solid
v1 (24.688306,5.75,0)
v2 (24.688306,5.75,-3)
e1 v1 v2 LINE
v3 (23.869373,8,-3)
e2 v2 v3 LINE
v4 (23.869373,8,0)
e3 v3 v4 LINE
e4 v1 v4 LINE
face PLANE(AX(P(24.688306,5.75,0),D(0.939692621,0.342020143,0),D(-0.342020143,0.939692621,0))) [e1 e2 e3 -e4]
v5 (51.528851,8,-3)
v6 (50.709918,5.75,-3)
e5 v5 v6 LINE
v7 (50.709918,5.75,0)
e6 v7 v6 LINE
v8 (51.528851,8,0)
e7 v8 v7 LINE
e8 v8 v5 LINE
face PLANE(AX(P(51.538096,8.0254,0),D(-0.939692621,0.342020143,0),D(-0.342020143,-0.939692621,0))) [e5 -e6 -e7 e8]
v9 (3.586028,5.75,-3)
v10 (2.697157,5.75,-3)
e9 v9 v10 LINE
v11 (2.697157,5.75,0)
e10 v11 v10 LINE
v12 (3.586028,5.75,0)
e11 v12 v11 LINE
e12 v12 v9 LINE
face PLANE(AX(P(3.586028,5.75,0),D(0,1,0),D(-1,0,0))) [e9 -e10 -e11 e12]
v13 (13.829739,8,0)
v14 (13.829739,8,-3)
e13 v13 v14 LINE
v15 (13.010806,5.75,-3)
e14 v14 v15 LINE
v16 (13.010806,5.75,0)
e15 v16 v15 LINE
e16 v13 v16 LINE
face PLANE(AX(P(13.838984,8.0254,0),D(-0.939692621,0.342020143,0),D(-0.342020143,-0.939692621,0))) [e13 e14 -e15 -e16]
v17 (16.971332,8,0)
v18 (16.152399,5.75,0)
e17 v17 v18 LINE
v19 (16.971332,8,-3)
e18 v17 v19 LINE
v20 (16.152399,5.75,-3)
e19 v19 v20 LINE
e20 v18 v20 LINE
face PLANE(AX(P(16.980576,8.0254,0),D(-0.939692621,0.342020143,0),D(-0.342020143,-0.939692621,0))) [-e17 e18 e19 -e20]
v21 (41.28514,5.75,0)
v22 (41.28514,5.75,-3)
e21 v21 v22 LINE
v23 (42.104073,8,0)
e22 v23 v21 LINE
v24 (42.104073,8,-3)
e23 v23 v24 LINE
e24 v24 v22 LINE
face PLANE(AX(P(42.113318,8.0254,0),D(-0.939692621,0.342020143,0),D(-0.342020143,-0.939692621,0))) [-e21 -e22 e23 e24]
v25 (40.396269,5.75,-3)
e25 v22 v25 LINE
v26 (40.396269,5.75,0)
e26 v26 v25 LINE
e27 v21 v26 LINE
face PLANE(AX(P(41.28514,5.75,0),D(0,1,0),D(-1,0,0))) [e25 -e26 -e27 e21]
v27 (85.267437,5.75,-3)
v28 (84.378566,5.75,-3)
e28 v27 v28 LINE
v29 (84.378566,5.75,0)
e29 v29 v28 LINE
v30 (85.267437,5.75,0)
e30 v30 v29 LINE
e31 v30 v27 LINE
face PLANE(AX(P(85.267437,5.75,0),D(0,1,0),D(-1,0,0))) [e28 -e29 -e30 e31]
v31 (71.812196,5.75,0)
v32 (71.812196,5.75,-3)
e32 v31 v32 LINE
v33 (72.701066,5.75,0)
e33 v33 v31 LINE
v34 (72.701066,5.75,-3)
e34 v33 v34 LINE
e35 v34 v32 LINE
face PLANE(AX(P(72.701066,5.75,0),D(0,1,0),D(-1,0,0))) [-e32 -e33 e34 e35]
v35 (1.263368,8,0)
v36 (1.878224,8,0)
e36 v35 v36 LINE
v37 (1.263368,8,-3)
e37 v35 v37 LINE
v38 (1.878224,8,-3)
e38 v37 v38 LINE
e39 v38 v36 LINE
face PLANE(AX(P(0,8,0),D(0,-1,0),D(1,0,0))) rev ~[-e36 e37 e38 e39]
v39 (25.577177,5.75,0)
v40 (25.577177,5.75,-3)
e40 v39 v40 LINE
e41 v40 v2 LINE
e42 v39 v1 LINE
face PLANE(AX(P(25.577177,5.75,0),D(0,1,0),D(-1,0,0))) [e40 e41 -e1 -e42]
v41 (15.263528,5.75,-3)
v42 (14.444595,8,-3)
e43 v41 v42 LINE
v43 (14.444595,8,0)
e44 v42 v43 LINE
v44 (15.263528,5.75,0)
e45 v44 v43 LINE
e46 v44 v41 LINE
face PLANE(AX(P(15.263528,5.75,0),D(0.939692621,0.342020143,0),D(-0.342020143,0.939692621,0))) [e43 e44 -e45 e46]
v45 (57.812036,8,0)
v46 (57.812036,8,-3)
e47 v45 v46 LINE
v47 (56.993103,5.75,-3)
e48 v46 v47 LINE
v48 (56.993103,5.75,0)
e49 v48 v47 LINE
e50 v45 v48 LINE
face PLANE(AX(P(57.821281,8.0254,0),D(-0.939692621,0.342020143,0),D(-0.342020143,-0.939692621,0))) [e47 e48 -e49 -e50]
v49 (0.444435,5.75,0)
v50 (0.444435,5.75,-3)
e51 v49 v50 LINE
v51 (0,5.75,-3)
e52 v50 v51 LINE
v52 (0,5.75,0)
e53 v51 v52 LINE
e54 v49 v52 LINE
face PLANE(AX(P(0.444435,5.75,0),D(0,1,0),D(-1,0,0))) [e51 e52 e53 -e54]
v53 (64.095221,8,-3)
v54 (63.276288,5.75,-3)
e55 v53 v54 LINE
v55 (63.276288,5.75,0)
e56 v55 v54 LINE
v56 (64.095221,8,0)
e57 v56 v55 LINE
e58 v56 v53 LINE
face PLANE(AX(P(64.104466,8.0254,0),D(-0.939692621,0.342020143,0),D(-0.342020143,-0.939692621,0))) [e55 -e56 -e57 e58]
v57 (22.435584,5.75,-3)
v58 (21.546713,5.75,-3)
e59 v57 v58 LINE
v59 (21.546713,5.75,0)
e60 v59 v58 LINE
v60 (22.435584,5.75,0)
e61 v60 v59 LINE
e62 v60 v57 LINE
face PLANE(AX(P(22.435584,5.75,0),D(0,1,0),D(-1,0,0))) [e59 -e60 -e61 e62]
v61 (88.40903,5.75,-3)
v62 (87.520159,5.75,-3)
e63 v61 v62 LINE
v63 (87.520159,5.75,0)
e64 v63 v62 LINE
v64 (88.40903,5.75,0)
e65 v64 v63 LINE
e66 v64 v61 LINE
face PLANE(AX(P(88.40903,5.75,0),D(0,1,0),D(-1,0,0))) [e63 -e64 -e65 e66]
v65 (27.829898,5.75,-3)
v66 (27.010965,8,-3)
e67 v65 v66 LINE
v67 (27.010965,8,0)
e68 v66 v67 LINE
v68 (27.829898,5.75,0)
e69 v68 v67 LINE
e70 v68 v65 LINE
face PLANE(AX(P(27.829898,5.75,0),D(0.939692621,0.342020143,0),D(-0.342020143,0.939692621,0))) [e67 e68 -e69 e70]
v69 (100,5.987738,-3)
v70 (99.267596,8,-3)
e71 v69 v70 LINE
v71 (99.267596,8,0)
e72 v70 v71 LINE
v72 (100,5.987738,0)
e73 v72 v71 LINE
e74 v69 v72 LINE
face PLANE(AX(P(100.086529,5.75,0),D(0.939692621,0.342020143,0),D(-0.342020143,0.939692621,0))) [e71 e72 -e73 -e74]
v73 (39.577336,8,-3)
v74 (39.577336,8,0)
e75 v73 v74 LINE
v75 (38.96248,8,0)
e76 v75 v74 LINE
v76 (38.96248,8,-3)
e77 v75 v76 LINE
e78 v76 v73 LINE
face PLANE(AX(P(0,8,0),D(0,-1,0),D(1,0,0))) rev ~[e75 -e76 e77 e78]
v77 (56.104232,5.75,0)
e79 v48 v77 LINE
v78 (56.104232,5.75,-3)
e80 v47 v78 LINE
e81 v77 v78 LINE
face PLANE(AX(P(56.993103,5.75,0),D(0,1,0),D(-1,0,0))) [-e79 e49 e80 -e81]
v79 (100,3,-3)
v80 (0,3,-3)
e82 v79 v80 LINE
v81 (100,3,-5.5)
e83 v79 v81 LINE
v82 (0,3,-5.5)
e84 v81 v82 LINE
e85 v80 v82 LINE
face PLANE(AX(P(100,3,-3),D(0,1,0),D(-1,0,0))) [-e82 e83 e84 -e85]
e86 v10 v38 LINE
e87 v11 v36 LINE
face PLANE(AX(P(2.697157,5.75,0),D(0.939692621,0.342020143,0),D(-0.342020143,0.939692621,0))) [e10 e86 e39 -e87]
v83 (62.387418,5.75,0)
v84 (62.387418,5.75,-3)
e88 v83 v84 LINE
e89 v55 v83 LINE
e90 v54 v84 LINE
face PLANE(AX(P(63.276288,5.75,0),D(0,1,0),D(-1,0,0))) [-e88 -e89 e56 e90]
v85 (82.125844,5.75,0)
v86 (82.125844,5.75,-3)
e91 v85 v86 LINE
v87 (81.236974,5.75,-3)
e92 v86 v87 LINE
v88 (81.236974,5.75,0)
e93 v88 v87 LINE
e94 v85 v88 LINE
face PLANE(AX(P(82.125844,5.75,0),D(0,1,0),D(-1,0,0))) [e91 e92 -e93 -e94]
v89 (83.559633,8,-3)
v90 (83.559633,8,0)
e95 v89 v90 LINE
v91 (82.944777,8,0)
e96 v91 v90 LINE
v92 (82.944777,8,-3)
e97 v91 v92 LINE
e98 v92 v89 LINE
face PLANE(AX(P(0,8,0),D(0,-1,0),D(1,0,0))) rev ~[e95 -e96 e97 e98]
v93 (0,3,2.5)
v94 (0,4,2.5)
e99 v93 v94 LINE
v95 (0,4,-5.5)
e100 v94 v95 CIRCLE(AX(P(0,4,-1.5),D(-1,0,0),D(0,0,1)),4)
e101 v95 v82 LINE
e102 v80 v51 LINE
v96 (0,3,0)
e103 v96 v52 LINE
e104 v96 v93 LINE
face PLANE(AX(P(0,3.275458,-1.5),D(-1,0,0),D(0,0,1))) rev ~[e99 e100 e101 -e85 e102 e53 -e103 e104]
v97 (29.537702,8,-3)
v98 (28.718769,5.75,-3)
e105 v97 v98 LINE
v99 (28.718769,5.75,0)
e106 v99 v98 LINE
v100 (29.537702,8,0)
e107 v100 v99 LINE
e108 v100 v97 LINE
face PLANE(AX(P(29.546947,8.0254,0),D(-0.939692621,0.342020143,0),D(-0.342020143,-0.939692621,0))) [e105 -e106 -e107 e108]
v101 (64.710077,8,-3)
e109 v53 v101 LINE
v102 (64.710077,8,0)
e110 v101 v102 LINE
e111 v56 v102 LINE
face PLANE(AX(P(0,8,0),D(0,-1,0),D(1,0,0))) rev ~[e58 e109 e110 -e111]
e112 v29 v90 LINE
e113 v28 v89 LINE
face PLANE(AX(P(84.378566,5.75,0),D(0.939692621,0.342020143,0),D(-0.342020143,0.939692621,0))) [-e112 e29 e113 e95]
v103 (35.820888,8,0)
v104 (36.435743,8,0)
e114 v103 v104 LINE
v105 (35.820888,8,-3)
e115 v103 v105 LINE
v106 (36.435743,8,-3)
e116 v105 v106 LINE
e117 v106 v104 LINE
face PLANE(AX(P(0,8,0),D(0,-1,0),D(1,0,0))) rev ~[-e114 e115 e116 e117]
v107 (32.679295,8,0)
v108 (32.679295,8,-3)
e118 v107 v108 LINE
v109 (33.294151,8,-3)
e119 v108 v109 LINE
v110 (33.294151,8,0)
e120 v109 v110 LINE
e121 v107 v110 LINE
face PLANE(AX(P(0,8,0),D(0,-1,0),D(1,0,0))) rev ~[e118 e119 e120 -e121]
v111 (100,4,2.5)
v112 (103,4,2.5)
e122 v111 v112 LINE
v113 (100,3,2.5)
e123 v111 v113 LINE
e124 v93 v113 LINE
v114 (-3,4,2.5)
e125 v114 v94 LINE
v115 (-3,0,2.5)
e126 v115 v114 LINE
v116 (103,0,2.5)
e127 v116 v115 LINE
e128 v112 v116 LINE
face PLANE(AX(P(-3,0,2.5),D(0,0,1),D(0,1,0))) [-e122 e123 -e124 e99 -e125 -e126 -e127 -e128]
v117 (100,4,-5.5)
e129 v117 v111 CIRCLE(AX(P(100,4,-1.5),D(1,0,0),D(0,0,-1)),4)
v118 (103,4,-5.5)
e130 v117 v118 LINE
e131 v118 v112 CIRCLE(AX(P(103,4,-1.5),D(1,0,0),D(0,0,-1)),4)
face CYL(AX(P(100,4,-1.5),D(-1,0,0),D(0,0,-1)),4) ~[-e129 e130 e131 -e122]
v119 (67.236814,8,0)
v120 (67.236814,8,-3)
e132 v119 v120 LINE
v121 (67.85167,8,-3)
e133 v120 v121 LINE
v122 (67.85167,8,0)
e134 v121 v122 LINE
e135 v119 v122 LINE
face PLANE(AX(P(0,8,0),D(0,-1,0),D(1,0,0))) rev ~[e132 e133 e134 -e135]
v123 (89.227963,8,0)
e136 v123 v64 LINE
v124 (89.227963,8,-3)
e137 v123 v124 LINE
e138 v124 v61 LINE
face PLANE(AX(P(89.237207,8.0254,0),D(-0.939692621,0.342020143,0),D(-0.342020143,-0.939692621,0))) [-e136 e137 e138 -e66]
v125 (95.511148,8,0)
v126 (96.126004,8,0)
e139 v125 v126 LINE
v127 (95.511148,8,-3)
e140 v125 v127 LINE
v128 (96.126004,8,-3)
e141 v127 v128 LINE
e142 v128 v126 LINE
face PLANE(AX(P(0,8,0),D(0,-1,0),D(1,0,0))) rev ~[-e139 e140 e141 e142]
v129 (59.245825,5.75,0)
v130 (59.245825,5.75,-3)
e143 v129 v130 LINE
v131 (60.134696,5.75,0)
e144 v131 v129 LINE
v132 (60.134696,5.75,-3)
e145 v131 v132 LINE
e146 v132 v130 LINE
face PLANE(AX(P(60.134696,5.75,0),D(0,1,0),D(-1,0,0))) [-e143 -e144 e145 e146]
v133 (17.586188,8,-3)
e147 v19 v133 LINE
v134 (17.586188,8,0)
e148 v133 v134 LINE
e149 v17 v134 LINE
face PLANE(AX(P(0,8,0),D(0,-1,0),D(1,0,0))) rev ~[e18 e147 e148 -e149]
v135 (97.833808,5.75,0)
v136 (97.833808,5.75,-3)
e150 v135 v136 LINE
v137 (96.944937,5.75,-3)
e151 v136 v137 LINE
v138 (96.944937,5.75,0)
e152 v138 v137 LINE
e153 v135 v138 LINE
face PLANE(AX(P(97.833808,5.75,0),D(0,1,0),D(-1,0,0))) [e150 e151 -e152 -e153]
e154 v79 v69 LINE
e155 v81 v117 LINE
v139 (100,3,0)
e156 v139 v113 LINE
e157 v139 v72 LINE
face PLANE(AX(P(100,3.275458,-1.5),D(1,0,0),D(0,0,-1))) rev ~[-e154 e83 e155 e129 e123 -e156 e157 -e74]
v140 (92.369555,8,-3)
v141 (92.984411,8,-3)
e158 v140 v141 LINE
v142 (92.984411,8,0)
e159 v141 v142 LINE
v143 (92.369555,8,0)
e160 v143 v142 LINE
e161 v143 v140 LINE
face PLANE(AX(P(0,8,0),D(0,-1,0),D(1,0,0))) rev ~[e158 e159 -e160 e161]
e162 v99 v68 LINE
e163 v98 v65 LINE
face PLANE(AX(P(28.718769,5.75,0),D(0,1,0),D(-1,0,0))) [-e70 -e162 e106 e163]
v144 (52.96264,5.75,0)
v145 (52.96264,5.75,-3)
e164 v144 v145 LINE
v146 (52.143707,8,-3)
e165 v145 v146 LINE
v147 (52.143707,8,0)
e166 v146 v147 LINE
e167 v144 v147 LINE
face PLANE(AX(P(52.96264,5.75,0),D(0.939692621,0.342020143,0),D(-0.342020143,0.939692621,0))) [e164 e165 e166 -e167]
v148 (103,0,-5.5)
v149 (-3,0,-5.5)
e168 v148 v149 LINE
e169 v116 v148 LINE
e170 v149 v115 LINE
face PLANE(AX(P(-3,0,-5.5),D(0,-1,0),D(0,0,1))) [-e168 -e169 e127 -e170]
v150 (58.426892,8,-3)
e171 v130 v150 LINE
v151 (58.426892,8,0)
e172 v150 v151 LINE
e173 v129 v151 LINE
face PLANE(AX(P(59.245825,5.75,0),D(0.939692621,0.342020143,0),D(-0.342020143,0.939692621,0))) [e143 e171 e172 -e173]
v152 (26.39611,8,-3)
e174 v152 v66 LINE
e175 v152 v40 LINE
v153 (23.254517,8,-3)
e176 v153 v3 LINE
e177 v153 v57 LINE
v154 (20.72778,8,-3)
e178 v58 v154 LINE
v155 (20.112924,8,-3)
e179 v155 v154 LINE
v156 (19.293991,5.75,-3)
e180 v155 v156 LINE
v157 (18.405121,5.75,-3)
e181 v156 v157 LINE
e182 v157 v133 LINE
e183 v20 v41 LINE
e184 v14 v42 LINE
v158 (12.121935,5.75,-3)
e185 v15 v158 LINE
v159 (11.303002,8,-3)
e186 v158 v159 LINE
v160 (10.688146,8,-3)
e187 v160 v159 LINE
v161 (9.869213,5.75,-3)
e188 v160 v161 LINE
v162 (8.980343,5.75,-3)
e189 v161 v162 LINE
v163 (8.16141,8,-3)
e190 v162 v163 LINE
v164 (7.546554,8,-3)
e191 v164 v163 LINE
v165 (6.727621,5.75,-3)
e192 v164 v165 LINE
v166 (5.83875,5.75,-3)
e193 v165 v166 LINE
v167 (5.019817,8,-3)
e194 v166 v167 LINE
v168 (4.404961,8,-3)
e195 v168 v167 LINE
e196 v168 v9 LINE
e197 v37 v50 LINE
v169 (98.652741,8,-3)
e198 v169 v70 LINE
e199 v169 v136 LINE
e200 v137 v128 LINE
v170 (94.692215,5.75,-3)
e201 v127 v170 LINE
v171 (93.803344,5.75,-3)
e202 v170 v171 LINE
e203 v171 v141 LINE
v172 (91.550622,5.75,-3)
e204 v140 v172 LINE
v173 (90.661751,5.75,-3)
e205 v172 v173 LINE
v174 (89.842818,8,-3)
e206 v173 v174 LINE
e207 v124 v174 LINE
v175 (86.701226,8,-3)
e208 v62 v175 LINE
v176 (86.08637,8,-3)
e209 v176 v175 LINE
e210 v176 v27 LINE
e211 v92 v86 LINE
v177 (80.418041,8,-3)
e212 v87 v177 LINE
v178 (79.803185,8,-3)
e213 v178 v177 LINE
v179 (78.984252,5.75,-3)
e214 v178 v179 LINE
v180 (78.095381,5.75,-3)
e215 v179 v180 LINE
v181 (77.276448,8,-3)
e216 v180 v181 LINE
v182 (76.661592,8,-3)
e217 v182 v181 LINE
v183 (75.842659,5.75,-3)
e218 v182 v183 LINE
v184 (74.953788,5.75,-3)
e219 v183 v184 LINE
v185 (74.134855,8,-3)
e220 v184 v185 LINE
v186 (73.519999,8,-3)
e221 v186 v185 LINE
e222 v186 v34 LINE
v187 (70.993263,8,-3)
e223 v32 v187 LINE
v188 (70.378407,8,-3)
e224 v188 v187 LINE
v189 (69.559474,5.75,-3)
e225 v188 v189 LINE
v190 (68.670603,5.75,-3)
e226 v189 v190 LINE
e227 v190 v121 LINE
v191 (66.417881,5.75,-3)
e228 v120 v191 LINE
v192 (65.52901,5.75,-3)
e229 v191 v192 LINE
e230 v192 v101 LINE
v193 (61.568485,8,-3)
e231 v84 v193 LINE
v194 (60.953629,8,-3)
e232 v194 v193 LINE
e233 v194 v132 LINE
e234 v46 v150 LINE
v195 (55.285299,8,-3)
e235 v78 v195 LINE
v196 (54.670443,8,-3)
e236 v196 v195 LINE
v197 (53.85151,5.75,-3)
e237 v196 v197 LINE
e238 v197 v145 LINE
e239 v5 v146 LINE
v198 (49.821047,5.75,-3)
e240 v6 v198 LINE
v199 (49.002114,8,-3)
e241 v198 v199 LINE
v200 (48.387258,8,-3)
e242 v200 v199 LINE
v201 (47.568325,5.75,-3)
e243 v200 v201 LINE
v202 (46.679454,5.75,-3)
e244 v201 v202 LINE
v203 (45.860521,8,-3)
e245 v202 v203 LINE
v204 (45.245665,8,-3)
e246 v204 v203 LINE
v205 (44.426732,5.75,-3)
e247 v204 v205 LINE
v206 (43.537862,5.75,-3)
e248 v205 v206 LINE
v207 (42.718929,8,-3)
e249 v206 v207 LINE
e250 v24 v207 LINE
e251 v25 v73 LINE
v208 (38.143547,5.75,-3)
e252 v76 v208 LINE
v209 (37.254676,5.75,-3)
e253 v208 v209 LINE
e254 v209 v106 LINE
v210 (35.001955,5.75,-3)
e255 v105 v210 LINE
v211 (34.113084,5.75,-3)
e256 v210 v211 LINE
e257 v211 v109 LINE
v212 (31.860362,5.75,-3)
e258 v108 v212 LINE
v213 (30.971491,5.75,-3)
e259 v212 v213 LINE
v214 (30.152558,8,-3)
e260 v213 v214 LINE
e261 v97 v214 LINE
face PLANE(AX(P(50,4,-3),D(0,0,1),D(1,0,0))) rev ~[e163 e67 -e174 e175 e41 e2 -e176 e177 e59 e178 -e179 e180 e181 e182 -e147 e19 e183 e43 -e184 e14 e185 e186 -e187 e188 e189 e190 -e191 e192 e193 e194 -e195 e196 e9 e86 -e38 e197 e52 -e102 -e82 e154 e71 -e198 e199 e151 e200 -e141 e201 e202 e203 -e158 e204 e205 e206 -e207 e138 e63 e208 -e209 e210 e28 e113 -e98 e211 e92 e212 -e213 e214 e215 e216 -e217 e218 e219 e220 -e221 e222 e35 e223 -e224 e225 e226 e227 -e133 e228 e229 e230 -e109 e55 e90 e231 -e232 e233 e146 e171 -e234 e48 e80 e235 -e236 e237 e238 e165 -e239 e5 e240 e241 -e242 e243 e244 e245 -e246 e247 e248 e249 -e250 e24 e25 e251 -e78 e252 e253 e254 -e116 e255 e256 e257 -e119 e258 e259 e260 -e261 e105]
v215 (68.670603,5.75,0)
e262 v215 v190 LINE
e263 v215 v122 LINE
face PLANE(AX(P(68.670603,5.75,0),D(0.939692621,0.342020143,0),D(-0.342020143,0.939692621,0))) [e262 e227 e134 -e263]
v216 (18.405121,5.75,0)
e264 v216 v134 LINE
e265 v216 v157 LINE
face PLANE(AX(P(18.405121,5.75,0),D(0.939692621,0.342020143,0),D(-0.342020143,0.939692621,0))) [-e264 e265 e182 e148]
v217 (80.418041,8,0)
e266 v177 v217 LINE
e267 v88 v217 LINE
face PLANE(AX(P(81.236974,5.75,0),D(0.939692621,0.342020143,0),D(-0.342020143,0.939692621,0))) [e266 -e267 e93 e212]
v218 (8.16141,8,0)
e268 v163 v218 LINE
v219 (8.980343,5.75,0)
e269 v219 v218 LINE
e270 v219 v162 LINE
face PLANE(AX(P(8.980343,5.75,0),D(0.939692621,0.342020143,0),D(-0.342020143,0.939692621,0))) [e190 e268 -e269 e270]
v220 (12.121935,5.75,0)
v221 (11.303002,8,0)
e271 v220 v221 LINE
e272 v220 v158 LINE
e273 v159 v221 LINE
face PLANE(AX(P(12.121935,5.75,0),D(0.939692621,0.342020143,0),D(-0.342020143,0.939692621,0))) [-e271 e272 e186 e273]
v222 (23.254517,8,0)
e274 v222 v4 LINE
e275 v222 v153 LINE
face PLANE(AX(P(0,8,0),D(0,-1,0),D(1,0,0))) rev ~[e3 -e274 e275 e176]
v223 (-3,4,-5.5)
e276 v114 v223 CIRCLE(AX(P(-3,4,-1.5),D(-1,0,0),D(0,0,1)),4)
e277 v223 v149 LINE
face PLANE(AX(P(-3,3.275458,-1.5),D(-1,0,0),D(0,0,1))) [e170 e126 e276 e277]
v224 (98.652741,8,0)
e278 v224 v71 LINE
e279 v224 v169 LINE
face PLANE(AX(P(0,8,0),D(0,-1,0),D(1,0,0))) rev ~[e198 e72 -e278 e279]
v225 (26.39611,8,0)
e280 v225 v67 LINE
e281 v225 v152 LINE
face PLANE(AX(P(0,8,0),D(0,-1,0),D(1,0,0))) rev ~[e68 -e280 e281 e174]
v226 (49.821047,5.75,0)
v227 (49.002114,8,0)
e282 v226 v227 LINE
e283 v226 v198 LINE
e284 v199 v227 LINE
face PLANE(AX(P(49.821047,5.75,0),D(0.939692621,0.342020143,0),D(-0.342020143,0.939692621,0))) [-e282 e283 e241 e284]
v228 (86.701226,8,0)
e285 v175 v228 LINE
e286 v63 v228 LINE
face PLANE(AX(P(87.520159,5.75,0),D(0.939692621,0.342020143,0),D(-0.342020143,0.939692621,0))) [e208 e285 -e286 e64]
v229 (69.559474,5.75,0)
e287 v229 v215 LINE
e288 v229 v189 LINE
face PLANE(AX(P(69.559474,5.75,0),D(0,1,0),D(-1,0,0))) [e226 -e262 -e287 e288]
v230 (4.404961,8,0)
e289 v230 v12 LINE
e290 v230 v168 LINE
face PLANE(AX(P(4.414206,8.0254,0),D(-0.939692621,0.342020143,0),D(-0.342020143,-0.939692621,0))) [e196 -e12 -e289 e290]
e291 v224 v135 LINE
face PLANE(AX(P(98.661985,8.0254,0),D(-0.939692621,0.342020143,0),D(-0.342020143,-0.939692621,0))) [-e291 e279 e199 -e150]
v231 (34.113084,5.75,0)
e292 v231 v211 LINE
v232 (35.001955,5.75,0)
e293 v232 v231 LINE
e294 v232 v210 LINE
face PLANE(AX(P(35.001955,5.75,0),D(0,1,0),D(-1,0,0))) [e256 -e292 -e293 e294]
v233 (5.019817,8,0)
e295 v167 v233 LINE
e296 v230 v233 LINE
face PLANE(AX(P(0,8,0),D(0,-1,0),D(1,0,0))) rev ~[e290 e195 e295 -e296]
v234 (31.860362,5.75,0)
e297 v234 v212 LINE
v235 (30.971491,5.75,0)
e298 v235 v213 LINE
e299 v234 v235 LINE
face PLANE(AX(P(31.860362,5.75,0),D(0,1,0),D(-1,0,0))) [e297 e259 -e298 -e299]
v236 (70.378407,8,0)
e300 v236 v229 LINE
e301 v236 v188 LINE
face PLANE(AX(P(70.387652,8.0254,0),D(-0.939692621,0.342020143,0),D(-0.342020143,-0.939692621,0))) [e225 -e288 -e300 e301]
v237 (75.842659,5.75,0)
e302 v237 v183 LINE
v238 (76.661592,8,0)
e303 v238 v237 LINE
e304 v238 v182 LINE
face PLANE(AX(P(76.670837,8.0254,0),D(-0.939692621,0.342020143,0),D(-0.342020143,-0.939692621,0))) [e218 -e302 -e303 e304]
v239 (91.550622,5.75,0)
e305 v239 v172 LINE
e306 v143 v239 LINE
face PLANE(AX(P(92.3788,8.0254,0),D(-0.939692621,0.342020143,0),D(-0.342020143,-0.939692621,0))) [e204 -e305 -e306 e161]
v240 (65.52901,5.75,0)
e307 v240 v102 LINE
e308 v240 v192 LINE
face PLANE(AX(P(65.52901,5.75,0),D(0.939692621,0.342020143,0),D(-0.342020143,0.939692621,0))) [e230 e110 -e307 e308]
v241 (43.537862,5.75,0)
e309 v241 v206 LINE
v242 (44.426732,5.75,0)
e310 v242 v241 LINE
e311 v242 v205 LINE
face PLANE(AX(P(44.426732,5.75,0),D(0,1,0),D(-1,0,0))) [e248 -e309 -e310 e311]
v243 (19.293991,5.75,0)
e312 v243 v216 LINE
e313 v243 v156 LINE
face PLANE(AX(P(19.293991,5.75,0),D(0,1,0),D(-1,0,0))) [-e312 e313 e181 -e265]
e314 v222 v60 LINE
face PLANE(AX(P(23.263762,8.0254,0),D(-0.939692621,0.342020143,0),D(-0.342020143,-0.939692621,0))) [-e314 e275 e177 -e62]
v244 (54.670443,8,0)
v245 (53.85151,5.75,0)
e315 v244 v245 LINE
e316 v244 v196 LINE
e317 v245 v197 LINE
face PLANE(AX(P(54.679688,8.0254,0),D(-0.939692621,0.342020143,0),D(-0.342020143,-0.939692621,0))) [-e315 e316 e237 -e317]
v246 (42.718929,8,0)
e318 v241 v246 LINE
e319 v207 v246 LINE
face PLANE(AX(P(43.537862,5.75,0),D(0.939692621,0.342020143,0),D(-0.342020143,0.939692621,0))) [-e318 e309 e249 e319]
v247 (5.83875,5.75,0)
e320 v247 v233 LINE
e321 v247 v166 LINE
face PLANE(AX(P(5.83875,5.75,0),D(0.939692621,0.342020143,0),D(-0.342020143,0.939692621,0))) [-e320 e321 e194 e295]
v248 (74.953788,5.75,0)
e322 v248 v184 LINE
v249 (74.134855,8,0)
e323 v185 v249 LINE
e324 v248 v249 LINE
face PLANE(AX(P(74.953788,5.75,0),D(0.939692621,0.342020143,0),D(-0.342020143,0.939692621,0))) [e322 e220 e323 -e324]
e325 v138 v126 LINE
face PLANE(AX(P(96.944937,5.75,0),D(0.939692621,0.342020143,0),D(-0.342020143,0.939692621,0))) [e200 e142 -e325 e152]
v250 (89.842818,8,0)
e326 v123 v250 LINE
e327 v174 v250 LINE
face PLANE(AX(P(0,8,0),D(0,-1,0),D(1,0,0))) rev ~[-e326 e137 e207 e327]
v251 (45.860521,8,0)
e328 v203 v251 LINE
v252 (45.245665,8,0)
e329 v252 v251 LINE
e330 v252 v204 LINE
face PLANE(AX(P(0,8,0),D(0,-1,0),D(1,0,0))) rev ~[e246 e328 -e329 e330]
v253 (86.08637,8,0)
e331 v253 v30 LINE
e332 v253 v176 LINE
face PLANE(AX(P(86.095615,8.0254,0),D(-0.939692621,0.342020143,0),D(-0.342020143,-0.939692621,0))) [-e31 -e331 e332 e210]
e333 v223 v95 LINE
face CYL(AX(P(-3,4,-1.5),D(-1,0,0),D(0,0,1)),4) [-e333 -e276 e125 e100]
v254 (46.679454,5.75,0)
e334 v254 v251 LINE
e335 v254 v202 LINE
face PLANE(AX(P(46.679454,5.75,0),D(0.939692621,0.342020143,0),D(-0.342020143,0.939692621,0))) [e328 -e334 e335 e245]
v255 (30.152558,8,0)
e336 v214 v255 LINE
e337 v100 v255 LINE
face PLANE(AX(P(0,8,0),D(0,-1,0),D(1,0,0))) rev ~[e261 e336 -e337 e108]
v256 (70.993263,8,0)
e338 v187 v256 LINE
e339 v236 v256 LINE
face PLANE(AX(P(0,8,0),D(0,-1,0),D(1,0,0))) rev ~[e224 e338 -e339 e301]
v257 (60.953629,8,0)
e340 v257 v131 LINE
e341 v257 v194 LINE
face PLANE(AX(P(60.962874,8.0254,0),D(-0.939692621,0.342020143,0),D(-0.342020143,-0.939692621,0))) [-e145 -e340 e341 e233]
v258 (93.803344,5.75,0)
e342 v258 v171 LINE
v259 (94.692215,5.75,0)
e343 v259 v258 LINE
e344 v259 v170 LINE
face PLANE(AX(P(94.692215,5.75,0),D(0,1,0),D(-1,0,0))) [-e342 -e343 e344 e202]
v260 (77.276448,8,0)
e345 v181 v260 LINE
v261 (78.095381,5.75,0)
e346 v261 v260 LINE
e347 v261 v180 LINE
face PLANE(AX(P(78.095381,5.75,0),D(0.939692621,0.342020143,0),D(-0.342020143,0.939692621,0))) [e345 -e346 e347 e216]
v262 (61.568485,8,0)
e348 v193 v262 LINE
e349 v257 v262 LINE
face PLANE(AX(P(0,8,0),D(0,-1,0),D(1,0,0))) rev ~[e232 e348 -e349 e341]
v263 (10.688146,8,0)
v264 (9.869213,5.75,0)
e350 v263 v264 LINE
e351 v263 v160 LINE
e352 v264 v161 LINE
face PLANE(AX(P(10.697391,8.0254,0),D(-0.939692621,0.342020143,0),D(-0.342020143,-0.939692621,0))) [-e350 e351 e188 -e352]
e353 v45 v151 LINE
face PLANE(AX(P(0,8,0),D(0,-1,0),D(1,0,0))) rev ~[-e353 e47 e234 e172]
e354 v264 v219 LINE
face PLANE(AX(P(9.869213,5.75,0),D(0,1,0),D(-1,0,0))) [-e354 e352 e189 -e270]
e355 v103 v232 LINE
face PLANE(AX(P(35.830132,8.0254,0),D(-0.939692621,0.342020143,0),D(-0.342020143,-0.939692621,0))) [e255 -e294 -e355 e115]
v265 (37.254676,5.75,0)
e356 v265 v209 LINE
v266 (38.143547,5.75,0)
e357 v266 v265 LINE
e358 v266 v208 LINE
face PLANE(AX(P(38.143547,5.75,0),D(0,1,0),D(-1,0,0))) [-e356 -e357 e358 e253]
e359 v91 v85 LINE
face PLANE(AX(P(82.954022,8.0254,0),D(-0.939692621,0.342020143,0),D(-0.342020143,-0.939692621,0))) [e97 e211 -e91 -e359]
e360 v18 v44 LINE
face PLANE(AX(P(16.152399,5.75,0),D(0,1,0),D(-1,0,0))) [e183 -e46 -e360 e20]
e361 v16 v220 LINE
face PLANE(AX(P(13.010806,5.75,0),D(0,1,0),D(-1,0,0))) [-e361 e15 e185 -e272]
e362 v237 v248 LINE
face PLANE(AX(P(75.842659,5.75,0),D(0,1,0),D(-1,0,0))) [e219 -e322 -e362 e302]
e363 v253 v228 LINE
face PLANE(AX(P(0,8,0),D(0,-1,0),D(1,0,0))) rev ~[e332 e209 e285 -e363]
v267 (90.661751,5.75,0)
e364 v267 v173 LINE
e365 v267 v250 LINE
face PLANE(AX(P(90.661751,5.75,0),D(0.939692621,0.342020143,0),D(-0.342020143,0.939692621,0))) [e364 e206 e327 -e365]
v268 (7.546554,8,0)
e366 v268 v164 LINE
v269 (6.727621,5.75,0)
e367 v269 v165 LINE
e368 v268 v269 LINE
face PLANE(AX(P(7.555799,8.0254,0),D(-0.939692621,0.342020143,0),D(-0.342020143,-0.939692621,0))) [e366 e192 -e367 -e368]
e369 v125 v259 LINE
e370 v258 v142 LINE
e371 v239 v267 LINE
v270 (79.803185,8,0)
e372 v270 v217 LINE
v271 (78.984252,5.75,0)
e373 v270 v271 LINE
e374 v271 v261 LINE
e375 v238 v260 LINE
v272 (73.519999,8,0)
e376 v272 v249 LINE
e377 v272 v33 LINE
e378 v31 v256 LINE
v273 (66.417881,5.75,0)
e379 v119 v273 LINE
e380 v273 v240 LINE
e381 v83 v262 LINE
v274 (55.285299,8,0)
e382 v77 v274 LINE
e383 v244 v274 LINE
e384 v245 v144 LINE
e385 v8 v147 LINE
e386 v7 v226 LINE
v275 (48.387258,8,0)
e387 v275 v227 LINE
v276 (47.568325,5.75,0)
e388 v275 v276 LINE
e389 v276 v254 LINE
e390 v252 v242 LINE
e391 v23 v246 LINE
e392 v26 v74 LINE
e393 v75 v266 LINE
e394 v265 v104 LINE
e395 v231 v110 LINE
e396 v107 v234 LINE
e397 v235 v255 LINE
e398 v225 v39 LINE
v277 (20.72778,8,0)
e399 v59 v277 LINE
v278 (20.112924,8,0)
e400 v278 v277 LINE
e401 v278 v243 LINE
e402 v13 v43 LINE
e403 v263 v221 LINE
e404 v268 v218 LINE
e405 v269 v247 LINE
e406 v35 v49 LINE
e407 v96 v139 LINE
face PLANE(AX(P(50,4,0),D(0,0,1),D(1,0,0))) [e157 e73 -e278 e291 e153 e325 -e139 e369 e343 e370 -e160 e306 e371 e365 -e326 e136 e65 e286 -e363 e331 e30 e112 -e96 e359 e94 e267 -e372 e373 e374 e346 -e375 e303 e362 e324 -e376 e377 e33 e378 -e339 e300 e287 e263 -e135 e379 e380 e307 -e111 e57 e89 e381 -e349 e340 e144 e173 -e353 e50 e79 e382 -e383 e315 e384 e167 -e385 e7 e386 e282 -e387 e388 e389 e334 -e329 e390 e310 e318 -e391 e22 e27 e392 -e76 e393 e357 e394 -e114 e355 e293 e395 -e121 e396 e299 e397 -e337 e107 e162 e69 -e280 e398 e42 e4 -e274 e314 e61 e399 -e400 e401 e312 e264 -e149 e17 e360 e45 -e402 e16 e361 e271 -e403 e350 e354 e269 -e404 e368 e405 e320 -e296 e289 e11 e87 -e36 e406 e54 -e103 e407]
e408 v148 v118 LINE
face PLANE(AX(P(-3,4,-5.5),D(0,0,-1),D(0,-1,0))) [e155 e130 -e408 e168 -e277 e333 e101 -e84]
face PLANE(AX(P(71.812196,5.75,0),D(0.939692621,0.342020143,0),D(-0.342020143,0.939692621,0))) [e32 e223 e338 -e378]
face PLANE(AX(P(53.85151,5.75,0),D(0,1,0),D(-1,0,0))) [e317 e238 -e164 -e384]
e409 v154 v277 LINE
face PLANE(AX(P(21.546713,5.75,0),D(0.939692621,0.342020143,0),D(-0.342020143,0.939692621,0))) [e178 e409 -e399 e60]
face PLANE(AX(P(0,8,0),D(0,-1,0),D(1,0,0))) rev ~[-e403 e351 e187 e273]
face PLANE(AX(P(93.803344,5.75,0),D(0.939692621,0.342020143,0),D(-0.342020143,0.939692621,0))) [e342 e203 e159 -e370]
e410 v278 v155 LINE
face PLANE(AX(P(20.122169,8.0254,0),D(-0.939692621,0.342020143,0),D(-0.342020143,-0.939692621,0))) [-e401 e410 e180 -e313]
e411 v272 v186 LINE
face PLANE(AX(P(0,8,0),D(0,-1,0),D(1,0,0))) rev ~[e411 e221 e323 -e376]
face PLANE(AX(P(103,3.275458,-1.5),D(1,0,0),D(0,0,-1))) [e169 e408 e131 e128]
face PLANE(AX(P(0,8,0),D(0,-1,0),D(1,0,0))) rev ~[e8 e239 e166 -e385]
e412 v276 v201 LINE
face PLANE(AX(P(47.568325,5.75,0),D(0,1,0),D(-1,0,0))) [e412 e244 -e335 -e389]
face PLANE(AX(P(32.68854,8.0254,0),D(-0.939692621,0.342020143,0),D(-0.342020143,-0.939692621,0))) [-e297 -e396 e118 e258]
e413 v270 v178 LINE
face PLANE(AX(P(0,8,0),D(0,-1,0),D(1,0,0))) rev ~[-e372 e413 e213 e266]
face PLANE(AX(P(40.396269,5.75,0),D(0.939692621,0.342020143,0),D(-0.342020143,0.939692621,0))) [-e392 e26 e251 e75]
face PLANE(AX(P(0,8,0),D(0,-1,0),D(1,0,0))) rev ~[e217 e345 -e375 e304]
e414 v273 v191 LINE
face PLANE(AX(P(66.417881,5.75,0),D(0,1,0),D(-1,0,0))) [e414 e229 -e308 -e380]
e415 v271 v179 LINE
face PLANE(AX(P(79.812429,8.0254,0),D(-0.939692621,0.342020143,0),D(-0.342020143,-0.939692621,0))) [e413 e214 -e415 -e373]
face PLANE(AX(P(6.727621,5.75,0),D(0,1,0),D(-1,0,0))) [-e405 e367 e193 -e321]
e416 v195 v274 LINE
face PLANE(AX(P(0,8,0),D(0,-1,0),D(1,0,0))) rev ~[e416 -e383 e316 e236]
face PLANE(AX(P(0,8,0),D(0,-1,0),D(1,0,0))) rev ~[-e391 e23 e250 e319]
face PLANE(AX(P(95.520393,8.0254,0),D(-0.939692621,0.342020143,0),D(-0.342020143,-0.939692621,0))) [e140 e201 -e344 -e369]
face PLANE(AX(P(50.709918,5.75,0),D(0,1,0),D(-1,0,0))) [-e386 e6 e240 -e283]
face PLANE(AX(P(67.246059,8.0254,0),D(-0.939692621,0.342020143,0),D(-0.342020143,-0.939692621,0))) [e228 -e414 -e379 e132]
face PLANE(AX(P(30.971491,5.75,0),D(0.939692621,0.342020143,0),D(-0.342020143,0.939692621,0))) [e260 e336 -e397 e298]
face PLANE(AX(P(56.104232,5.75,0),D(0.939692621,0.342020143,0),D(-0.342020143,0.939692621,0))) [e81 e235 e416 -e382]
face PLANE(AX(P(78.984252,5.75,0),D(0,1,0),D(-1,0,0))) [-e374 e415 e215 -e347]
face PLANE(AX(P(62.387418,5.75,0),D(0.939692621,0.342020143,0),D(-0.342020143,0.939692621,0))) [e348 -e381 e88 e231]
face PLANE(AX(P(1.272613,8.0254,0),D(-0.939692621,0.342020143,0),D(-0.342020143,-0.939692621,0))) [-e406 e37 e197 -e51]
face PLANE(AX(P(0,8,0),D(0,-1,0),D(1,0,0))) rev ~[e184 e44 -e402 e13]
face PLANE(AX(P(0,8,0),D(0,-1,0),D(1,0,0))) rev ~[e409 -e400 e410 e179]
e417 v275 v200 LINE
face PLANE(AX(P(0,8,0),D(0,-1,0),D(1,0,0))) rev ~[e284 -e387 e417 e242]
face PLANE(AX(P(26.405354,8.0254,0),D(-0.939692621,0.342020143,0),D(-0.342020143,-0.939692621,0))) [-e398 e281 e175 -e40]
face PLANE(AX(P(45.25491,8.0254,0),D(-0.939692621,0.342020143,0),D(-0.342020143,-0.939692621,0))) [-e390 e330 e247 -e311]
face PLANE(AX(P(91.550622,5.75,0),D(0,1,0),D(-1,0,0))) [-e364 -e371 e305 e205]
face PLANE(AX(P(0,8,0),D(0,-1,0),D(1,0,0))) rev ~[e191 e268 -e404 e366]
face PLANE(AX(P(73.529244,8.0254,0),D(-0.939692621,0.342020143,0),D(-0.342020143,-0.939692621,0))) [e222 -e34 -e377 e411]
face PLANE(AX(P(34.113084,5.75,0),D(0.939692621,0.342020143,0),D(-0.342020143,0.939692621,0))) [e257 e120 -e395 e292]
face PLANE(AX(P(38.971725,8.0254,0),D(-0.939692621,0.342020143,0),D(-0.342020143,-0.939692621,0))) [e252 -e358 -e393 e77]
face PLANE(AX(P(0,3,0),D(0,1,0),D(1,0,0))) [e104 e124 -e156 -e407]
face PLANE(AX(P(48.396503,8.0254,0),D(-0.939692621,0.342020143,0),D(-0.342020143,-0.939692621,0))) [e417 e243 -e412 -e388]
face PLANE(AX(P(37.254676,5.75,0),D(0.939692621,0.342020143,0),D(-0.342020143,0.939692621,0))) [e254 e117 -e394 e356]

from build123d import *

# Parameters (mm, degrees)
BLANKSKE_W         = 100
BLANKSKE_H         = 8
BLANK_DEPTH        = 3
TOOTHCUTSIM_DEPTH  = 101.364336295
TEETHCUTS_COUNT    = 33
TEETHCUTS_PITCH    = 3.14159265
ESQUISSE1_W        = 100
ESQUISSE1_H        = 3
BOSS_EXTRU_1_DEPTH = 2.5
ESQUISSE2_W        = 100
ESQUISSE2_H        = 3
BOSS_EXTRU_2_DEPTH = 2.5
BOSS_EXTRU_3_DEPTH = 3
BOSS_EXTRU_4_START = 3
BOSS_EXTRU_4_DEPTH = 3


with BuildPart() as part:
    # BlankSke → Blank (new body)
    with BuildSketch(Plane.XY):
        with Locations((50, 4)):
            Rectangle(BLANKSKE_W, BLANKSKE_H)
    extrude(amount=-BLANK_DEPTH)

    # TooCutSkeSim → ToothCutSim (cut, through all)
    with BuildSketch(Plane.XY):
        Polygon((0.44443537, 5.75), (-0.44443537, 5.75), (-1.272613241, 8.0254), (1.272613241, 8.0254), align=None)
    toothcutsim = extrude(amount=-TOOTHCUTSIM_DEPTH, mode=Mode.SUBTRACT)

    # TeethCuts: ToothCutSim ×33
    with Locations(*[(i * TEETHCUTS_PITCH, 0, 0) for i in range(1, TEETHCUTS_COUNT)]):
        add(toothcutsim, mode=Mode.SUBTRACT)

    # Esquisse1 → Boss.-Extru.1 (add)
    with BuildSketch(Plane.XY):
        with Locations((50, 1.5)):
            Rectangle(ESQUISSE1_W, ESQUISSE1_H)
    extrude(amount=BOSS_EXTRU_1_DEPTH)

    # Esquisse2 → Boss.-Extru.2 (add)
    with BuildSketch(Plane(origin=(0, 0, -3), x_dir=(-1, 0, 0), z_dir=(0, 0, -1))):
        with Locations((-50, 1.5)):
            Rectangle(ESQUISSE2_W, ESQUISSE2_H)
    extrude(amount=BOSS_EXTRU_2_DEPTH)

    # Esquisse3 → Boss.-Extru.3 (add)
    with BuildSketch(Plane(origin=(100, 0, 0), x_dir=(0, 0, -1), z_dir=(1, 0, 0))):
        with BuildLine():
            Line((-2.5, 0), (5.5, 0))
            Line((5.5, 0), (5.5, 4))
            ThreePointArc((5.5, 4), (1.5, 8), (-2.5, 4))
            Line((-2.5, 4), (-2.5, 0))
        make_face()
    extrude(amount=BOSS_EXTRU_3_DEPTH)

    # Esquisse4 → Boss.-Extru.4 (add)
    with BuildSketch(Plane.ZY.offset(BOSS_EXTRU_4_START)):
        with BuildLine():
            Line((-5.5, 4), (-5.5, 0))
            Line((-5.5, 0), (2.5, 0))
            Line((2.5, 0), (2.5, 4))
            ThreePointArc((2.5, 4), (-1.5, 8), (-5.5, 4))
        make_face()
    extrude(amount=-BOSS_EXTRU_4_DEPTH)


solid = part.part
